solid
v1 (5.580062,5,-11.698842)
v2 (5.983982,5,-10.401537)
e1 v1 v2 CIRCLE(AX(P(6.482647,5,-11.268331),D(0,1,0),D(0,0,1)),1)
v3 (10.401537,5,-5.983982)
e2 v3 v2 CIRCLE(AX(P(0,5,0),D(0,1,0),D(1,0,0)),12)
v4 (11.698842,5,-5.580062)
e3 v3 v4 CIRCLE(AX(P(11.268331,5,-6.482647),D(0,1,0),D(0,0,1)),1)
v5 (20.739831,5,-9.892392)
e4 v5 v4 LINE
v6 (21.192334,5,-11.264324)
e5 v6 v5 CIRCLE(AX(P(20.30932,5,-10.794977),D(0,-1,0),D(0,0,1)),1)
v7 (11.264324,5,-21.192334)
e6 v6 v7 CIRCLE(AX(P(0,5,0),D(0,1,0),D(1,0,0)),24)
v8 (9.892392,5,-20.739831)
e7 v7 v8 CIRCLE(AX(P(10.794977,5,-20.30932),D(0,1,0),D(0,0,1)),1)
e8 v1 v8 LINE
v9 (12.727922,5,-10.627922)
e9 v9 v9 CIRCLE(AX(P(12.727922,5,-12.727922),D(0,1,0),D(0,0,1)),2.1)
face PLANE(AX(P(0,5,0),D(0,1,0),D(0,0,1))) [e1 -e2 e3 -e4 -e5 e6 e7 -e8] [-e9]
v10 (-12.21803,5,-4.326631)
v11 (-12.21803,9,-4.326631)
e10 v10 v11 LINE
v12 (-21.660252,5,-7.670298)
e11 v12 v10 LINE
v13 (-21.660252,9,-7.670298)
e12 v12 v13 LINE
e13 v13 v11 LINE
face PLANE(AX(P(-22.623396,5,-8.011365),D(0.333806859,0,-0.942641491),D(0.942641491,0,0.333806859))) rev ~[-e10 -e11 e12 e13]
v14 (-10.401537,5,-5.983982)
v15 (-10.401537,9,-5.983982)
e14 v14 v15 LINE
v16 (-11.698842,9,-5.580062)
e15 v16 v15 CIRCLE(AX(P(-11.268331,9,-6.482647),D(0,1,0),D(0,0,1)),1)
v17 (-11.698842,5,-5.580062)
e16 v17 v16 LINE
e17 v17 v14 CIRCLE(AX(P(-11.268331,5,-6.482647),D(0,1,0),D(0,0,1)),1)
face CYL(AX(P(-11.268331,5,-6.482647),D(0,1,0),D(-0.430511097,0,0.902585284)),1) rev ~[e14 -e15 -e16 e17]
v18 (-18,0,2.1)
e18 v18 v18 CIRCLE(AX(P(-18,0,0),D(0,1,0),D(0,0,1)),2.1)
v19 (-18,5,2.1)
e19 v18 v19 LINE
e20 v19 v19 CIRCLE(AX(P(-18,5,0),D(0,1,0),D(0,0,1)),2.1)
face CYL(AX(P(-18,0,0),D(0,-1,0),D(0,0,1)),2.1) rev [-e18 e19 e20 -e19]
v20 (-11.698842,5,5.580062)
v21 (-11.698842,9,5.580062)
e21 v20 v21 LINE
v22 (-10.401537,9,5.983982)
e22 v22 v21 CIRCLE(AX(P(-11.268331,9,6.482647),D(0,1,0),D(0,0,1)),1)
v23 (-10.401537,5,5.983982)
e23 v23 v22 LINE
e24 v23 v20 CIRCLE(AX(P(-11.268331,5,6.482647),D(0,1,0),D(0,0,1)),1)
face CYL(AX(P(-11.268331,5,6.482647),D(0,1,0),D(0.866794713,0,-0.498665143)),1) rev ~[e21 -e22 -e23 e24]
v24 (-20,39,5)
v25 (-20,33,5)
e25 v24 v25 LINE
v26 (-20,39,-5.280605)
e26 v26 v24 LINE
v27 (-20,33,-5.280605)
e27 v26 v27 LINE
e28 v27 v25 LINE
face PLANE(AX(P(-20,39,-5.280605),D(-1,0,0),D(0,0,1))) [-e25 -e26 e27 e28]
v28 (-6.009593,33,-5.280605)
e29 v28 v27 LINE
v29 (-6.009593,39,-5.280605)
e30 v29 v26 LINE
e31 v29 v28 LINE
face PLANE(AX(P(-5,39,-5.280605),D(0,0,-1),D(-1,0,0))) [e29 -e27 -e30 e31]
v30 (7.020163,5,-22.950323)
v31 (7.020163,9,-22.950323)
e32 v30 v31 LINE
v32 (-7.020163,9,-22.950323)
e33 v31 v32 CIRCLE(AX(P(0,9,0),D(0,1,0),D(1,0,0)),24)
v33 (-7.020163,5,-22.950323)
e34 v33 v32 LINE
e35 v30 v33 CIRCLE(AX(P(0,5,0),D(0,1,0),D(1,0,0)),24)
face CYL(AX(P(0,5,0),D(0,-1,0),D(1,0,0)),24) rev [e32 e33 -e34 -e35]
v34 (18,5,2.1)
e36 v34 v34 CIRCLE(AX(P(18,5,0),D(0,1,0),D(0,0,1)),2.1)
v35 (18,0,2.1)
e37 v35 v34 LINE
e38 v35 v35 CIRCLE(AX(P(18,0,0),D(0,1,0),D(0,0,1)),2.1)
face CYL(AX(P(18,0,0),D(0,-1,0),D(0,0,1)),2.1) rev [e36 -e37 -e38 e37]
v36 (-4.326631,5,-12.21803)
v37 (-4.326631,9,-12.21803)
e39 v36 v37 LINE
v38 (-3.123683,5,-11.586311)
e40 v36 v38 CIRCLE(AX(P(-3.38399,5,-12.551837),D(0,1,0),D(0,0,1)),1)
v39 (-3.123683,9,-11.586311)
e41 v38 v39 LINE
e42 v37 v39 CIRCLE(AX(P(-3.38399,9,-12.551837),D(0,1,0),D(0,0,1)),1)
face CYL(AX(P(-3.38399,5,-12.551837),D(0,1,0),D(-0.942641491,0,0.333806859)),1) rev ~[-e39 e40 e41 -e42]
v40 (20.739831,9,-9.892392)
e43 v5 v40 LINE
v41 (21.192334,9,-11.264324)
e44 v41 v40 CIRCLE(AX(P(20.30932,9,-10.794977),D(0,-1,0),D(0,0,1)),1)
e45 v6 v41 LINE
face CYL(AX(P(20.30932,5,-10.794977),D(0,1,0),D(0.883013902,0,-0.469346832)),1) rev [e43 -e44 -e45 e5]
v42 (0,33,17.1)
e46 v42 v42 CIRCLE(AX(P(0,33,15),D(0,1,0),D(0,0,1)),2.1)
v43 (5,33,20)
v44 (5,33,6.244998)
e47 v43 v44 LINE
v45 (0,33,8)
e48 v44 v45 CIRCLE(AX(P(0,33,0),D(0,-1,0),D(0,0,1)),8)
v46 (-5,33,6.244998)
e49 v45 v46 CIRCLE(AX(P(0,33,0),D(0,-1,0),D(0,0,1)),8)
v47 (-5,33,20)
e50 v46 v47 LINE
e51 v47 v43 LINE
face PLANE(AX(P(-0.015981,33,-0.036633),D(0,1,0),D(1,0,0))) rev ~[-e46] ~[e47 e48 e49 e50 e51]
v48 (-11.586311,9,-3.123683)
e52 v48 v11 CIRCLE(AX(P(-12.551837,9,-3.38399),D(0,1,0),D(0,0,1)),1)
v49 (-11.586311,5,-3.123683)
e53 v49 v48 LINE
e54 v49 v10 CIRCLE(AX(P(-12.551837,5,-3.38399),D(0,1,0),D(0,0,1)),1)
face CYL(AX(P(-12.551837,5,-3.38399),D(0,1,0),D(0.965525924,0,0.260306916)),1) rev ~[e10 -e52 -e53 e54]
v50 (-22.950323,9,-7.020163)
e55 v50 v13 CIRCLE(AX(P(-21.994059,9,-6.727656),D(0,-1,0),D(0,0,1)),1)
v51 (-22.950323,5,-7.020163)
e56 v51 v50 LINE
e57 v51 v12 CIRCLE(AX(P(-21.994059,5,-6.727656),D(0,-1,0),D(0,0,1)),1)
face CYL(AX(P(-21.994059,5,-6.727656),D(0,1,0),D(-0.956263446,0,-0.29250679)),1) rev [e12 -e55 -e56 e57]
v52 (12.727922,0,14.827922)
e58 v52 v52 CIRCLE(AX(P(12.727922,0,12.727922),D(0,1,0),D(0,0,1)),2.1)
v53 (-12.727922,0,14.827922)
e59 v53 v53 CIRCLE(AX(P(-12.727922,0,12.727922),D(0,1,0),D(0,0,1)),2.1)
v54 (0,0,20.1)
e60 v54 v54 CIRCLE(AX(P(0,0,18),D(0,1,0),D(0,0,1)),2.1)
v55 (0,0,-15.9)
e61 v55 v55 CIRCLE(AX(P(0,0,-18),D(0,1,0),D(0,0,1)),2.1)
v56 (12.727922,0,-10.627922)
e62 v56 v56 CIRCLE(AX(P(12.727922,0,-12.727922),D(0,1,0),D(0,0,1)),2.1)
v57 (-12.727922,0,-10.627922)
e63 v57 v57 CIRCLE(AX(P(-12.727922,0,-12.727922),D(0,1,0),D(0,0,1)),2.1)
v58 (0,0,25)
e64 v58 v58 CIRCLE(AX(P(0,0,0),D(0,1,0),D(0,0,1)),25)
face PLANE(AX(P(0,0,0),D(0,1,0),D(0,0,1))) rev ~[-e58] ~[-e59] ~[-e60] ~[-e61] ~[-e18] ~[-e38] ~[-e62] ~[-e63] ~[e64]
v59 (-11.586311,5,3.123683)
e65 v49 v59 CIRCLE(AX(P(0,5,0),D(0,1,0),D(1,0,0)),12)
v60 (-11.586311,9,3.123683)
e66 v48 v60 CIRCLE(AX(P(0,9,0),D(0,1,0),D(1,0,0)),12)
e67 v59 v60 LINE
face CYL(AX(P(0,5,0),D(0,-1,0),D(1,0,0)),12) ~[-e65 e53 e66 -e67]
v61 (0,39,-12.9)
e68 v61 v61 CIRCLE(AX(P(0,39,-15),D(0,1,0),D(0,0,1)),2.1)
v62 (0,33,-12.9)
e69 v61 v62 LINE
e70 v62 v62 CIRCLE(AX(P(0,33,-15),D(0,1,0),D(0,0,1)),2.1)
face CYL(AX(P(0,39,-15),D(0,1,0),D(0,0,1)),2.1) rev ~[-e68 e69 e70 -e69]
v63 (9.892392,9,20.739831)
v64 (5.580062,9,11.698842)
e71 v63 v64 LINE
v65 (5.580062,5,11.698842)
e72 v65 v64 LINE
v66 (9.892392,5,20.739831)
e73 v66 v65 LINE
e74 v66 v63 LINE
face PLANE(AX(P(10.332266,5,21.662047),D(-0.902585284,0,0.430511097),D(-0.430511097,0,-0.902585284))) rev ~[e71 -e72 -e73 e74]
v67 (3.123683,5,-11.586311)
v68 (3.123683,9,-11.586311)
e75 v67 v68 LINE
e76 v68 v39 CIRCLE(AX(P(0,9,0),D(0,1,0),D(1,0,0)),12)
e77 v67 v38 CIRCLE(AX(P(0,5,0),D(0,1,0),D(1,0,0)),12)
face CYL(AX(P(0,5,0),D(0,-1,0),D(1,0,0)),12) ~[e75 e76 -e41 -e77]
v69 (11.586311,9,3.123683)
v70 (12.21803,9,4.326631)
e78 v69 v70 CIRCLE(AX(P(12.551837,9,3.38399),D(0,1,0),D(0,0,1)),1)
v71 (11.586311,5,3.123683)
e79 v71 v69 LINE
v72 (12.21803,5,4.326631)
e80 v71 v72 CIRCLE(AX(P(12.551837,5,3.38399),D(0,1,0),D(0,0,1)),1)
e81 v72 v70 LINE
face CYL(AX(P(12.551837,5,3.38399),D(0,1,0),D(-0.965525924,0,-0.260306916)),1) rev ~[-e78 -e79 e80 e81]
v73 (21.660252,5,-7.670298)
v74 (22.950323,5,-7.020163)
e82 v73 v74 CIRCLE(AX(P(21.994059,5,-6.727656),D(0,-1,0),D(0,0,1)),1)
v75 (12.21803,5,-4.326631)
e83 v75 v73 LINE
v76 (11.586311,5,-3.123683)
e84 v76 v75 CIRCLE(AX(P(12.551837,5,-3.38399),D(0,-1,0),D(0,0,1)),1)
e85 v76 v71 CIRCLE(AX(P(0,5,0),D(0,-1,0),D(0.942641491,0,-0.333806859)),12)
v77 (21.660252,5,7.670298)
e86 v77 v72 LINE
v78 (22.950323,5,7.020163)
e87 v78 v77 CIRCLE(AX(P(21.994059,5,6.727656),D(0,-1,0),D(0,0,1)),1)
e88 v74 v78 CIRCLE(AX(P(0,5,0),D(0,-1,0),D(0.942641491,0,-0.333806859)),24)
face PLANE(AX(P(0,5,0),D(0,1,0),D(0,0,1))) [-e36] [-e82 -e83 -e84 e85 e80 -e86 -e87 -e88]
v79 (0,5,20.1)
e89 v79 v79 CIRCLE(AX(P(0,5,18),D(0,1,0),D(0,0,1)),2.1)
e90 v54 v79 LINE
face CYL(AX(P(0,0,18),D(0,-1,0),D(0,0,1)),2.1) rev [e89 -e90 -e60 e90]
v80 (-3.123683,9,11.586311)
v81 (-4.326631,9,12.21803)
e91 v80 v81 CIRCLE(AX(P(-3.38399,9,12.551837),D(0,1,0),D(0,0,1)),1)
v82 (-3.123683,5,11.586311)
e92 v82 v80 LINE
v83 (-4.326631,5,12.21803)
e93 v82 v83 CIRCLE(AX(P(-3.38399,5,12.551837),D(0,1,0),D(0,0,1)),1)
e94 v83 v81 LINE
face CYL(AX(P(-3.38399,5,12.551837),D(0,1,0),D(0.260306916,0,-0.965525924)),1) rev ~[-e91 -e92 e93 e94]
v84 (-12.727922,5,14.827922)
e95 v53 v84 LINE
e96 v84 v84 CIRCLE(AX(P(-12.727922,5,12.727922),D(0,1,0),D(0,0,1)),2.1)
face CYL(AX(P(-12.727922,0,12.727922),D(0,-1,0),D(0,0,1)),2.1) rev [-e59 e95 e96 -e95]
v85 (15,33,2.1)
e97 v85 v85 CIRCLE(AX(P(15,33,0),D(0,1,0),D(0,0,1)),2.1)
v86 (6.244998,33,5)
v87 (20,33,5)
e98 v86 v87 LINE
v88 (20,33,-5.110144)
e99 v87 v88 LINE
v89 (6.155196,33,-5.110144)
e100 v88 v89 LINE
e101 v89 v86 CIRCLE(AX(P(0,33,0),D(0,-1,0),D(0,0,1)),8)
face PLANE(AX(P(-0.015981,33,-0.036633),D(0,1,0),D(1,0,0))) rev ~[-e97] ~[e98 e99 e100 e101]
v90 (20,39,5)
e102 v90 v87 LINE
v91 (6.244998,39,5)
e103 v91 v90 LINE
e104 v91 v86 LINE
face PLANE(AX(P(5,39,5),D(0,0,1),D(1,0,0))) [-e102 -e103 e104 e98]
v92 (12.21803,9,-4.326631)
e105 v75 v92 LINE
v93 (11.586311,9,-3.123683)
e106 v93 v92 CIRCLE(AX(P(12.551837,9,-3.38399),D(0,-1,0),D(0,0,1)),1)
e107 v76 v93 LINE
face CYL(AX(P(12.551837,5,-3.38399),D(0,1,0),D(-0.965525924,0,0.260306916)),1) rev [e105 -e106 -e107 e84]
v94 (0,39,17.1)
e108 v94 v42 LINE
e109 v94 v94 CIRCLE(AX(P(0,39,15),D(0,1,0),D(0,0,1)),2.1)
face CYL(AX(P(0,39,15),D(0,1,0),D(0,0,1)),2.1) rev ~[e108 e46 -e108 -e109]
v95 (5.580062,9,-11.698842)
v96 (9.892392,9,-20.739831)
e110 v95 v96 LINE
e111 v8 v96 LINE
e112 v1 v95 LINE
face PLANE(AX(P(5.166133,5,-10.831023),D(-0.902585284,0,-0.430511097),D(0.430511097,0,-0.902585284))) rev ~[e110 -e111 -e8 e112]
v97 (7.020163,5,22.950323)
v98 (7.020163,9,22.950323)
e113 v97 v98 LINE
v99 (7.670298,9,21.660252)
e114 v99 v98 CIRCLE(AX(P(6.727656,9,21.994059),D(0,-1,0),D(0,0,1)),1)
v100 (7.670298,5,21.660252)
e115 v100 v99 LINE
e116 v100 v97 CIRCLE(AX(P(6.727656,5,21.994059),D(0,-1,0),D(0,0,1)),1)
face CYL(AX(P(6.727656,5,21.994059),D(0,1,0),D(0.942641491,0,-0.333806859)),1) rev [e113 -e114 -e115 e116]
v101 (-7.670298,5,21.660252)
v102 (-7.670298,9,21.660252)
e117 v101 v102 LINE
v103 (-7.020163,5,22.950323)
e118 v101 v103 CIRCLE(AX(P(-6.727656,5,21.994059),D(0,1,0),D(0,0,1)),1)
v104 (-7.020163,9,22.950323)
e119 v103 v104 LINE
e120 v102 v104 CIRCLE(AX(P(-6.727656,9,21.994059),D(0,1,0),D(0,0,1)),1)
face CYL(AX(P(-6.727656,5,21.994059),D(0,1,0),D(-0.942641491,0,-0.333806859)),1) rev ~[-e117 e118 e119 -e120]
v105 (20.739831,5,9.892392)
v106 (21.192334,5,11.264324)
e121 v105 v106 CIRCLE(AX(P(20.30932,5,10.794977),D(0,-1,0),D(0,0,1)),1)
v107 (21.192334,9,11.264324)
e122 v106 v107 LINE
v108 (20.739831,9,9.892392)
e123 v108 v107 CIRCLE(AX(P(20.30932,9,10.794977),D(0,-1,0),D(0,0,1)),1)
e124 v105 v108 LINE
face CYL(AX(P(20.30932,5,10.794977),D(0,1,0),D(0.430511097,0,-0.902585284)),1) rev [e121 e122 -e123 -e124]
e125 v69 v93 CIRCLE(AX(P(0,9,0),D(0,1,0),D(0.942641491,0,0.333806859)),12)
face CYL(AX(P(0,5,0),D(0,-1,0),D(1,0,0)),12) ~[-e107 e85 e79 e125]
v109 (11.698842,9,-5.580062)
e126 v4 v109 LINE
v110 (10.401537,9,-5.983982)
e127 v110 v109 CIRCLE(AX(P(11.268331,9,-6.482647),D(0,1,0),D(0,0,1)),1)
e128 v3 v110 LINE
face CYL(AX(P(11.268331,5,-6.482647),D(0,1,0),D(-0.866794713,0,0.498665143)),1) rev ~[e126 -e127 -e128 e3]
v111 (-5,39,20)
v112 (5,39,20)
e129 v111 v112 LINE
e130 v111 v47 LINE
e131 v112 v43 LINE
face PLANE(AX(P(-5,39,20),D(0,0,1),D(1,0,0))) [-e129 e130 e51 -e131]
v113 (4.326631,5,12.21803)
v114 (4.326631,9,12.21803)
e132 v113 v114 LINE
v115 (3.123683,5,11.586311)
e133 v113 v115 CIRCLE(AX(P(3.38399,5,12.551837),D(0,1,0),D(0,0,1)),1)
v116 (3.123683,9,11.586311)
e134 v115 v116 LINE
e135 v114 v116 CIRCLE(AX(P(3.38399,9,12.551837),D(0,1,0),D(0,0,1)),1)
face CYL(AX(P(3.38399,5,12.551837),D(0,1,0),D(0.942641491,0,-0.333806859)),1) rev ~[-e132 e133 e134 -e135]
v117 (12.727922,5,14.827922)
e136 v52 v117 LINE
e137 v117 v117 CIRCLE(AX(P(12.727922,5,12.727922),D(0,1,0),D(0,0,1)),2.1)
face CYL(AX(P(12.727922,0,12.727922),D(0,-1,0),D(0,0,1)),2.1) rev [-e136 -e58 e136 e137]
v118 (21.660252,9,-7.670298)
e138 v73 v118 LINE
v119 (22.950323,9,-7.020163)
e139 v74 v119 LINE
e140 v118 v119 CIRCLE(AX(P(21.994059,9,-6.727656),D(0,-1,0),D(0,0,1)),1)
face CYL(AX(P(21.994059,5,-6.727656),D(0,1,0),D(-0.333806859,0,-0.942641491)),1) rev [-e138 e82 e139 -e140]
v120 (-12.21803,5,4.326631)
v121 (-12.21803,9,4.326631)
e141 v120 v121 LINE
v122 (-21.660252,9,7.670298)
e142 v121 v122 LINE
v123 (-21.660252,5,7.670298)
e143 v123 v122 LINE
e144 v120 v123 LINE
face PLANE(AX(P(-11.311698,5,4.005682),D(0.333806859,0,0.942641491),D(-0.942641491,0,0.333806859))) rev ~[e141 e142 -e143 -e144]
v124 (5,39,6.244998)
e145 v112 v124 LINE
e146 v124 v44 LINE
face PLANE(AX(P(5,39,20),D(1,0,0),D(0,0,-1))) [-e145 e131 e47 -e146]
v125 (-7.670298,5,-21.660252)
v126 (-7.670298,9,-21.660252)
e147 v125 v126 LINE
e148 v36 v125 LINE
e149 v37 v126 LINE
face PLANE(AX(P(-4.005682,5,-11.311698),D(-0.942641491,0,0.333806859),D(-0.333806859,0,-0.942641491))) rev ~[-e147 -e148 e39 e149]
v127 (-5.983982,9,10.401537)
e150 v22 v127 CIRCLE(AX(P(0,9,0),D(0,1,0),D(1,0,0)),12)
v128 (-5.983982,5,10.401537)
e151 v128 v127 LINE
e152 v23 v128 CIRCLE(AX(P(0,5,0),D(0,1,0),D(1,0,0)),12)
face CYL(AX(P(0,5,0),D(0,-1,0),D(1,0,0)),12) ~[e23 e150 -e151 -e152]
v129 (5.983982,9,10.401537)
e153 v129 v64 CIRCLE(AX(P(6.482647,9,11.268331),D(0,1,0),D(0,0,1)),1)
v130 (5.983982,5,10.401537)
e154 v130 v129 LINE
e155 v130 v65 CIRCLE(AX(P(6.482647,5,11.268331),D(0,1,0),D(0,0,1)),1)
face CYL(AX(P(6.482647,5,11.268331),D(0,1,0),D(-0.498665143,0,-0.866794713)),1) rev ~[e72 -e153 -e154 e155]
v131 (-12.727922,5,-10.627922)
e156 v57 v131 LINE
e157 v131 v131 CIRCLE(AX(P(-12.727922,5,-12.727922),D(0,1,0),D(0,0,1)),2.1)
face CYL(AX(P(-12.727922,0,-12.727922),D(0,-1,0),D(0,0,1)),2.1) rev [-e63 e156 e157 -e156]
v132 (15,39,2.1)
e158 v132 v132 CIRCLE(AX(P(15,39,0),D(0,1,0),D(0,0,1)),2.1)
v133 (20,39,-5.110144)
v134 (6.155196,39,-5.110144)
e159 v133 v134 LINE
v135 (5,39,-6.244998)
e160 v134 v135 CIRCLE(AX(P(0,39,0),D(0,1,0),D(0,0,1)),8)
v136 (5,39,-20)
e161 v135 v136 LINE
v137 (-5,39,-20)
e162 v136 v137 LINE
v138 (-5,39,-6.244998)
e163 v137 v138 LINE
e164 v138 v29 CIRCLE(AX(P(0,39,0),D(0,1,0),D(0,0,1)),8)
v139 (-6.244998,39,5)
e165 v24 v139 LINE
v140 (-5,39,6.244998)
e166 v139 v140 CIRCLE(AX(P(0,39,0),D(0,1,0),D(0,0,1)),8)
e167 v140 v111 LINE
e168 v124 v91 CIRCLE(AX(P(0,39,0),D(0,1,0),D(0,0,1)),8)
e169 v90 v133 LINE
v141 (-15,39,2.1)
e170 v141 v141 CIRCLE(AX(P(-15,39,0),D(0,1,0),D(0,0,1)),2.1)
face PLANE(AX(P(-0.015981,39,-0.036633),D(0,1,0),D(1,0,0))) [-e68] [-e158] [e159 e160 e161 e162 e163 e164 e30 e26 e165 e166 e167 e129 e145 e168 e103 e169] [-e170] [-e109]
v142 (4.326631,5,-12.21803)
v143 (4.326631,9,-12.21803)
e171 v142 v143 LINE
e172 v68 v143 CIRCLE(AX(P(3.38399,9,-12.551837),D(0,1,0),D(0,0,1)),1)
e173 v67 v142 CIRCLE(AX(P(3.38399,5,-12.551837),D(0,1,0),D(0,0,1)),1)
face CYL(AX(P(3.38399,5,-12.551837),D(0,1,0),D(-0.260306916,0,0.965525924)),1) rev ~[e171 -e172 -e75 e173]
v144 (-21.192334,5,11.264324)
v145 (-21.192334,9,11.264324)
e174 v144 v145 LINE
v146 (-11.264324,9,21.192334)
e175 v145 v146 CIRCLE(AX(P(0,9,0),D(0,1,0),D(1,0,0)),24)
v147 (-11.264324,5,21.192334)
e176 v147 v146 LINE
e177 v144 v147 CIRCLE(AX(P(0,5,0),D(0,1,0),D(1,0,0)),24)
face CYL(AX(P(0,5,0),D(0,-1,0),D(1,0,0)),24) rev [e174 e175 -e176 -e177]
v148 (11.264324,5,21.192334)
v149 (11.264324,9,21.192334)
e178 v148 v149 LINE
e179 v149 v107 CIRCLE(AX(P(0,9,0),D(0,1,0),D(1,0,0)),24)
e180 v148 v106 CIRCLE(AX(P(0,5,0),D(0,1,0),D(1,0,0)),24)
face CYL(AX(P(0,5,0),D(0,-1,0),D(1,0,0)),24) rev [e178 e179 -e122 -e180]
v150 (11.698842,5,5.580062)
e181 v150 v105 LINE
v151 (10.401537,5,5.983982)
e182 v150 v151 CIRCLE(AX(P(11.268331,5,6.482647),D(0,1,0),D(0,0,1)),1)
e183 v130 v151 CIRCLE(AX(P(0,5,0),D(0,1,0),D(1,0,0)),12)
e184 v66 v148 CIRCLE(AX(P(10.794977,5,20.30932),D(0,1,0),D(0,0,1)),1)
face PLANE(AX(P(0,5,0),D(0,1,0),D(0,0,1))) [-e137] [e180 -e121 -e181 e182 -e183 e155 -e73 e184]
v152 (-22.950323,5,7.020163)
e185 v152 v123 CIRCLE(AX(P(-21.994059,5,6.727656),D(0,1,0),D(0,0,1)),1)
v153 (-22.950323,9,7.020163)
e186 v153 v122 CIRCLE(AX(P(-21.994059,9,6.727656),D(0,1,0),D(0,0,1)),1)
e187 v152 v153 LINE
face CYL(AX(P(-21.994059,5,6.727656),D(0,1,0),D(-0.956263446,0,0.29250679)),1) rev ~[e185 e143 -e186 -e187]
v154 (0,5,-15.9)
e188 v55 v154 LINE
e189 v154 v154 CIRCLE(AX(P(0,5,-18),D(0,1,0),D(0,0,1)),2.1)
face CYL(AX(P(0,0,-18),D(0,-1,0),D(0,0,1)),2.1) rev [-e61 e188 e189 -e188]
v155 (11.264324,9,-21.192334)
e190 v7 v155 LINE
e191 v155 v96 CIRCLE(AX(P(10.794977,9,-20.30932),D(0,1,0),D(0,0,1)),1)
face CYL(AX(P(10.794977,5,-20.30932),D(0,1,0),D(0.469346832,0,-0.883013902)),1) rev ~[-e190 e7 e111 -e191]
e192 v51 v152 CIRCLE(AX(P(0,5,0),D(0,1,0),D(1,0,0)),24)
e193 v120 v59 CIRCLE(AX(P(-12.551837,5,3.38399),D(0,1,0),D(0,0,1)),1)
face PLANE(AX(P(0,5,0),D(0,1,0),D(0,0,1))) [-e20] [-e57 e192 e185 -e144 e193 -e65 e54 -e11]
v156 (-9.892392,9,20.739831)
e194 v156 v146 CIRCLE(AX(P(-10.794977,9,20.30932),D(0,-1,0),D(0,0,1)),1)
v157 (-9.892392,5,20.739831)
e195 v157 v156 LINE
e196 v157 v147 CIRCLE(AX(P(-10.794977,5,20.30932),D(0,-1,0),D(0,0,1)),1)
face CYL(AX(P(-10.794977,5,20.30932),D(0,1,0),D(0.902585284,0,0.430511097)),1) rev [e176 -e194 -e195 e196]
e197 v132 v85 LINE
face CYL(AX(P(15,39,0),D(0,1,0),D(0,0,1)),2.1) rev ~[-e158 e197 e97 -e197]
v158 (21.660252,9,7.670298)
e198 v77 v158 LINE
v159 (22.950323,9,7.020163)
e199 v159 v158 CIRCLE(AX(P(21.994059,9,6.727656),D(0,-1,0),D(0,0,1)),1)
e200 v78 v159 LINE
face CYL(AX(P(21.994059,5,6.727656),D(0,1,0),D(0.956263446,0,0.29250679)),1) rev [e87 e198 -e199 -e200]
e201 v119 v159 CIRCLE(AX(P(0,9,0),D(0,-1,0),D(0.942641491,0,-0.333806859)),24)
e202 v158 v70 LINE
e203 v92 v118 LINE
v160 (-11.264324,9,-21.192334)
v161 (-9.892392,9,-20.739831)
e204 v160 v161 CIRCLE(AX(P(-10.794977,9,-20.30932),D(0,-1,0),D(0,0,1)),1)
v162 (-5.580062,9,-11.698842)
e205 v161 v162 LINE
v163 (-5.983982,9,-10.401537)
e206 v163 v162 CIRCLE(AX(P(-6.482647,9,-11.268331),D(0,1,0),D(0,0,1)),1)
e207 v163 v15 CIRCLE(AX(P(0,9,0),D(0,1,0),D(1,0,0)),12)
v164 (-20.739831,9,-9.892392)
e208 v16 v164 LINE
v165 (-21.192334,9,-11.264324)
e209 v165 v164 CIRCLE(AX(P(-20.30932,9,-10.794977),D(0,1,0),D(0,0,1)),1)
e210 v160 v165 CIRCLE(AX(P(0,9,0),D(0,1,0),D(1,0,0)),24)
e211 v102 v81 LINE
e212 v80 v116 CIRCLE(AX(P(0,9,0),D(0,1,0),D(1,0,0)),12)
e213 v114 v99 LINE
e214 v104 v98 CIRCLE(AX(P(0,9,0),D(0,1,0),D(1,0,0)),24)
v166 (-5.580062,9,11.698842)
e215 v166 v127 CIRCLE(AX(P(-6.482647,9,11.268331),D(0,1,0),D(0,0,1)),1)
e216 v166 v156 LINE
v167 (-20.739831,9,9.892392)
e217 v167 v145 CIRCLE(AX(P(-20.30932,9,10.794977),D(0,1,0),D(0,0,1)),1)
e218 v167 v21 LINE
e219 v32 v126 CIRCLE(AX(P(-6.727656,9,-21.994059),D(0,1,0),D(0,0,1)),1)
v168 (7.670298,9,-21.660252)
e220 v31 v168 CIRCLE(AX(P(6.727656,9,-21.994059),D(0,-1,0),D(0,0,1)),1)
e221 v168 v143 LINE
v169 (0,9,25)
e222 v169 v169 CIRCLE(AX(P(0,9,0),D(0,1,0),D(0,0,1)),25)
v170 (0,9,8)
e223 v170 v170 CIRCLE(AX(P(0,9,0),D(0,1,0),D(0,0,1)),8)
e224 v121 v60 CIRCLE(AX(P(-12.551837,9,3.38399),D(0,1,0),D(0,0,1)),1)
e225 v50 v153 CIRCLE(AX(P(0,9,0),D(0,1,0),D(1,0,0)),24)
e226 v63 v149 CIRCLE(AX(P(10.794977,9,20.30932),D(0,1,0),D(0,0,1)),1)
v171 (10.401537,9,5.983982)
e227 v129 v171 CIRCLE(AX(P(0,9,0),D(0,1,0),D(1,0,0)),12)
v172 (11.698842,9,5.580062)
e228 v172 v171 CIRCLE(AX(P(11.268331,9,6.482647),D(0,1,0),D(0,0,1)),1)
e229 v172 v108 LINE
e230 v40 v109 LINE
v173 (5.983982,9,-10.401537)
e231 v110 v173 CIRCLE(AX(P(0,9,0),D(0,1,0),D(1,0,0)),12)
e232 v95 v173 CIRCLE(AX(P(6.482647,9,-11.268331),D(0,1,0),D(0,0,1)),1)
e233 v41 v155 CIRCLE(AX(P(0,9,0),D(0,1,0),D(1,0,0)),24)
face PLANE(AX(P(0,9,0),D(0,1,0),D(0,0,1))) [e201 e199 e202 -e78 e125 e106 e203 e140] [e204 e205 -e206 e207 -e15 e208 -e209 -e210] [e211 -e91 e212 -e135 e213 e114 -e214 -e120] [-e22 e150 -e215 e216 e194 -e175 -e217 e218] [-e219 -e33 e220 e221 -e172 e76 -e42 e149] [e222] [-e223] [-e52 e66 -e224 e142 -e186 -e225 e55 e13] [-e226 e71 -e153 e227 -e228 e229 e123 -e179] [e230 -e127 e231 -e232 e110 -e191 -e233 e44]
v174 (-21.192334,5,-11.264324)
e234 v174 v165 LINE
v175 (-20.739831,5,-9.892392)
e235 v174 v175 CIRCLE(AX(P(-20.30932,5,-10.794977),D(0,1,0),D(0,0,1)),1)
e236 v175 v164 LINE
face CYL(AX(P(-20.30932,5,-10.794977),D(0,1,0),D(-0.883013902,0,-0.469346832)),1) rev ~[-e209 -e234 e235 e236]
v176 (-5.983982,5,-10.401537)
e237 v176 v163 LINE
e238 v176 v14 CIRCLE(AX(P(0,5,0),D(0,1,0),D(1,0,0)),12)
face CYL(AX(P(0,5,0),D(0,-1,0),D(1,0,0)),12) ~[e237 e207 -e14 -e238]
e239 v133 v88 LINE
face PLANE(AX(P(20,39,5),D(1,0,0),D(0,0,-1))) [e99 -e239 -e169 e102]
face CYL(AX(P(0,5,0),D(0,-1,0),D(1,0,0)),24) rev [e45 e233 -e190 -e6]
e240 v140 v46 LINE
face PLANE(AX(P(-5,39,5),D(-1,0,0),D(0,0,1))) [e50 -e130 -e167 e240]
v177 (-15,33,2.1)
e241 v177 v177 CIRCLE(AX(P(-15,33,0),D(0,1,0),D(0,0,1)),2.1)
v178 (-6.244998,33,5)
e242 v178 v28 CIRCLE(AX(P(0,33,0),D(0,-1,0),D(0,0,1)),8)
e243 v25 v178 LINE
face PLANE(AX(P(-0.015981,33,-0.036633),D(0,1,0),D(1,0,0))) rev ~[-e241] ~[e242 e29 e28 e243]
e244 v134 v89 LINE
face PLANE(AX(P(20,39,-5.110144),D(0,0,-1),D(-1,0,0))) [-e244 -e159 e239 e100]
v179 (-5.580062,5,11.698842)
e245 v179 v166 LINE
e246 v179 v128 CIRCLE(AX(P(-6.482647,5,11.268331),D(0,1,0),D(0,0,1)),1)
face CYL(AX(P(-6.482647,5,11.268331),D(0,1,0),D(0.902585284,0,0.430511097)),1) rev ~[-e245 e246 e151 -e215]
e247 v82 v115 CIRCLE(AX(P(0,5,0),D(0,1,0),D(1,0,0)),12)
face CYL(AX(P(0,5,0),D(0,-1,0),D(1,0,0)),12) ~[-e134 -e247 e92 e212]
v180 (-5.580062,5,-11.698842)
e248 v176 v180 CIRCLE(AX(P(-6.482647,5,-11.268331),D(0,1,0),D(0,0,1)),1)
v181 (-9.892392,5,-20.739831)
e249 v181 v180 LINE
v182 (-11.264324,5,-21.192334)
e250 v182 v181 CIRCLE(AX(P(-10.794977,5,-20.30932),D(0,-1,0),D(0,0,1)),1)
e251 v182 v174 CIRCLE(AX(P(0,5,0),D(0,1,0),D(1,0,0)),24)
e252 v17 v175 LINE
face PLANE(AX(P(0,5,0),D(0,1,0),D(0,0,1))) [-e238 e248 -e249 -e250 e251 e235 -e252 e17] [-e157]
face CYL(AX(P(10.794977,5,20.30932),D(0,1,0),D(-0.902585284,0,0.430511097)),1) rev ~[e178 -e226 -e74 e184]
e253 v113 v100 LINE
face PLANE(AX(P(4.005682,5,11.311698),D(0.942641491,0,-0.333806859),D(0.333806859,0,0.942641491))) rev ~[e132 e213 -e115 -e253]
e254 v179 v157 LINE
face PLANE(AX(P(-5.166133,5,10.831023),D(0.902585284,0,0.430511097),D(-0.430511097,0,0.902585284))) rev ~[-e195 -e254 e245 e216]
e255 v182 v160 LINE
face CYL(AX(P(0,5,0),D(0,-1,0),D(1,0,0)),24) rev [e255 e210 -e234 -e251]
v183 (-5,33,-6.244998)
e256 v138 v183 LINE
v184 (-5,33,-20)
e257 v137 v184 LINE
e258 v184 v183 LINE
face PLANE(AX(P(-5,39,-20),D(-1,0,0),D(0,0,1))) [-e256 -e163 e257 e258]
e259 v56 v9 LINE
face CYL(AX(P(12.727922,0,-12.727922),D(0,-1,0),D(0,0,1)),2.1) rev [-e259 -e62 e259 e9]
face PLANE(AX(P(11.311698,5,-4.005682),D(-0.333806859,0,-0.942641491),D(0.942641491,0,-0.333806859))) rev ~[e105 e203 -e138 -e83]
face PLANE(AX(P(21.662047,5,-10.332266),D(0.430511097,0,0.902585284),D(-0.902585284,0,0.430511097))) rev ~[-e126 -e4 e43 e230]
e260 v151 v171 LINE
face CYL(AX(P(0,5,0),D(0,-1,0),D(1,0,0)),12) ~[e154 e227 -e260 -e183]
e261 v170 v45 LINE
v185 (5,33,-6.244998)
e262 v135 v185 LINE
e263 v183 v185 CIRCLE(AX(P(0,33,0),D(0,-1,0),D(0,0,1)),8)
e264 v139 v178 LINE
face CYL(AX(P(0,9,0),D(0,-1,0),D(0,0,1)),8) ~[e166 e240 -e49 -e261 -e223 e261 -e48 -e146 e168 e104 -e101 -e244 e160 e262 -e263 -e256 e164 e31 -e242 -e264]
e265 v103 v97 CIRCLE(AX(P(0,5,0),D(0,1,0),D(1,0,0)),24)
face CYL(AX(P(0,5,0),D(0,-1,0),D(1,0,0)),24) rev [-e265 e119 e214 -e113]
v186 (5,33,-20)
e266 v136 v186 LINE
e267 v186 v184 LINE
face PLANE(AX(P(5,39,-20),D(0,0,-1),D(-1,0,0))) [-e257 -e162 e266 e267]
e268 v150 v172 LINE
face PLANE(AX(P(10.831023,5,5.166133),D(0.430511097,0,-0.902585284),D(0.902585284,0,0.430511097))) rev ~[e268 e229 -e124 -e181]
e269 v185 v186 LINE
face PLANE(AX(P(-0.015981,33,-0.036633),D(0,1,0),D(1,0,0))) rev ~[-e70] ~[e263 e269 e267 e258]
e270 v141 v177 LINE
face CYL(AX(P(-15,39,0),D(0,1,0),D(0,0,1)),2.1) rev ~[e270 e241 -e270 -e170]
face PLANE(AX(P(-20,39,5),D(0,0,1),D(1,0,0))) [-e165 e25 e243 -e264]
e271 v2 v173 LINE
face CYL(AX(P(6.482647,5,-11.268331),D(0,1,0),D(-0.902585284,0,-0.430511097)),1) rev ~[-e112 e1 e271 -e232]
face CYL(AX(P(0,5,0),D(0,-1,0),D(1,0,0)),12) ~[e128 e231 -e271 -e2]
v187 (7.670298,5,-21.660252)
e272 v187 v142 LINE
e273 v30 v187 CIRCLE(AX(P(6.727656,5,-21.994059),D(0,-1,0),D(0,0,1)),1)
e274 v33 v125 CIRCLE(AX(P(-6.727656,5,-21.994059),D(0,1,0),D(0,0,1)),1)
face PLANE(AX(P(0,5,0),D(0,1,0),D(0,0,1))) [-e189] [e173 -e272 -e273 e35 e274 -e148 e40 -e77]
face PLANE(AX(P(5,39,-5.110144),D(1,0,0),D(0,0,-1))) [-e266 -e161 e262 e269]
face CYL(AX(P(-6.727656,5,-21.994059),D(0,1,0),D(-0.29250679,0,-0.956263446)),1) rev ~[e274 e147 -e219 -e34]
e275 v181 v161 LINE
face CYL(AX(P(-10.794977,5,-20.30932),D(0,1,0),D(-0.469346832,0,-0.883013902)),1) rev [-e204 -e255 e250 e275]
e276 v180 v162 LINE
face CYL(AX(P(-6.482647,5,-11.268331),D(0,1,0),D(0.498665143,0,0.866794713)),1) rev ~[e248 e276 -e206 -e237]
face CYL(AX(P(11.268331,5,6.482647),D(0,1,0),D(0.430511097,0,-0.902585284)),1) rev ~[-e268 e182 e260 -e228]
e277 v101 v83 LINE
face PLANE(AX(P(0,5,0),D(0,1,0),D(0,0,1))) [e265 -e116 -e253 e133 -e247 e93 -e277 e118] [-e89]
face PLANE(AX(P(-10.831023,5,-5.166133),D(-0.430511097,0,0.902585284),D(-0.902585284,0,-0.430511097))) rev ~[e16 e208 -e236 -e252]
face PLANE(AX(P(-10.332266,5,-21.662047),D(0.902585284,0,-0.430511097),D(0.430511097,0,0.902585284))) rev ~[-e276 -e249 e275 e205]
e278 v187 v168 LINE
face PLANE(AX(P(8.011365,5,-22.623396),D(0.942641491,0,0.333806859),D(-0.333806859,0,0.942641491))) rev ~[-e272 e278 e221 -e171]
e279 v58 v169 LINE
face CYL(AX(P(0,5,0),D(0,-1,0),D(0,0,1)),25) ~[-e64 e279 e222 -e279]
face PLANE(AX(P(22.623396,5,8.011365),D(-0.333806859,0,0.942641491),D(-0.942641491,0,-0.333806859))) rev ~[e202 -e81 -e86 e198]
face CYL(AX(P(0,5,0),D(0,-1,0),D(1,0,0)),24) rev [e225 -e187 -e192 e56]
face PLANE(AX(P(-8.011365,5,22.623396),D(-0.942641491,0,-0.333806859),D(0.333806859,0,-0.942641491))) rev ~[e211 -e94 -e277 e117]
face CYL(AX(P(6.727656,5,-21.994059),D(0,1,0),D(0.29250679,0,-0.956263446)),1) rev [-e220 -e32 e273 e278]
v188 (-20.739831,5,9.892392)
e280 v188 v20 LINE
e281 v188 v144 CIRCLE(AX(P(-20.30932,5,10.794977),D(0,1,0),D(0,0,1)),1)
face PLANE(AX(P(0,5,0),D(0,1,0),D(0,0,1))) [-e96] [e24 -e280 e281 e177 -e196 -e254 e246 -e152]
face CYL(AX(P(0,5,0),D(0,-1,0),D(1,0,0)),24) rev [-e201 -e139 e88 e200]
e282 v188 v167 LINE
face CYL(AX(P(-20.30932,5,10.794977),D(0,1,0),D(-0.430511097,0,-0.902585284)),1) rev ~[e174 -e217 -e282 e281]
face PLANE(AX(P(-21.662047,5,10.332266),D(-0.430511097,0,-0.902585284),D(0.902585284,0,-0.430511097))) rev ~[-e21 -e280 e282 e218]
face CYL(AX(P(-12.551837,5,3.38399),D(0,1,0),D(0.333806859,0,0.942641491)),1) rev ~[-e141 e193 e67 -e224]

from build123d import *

# Parameters (mm, degrees)
SKETCH_1_R      = 25
SKETCH_1_R_2    = 2.1
EXTRUDE_1_DEPTH = 5
SKETCH_2_R      = 25
SKETCH_2_R_2    = 24
SKETCH_2_R_3    = 12
EXTRUDE_2_DEPTH = 4
FILLET_1_R      = 1
SKETCH_3_R      = 8
EXTRUDE_3_DEPTH = 30
SKETCH_4_R      = 2.1
EXTRUDE_5_DEPTH = 6


with BuildPart() as part:
    # Эскиз1 → Бобышка-Вытянуть1 (new body)
    with BuildSketch(Plane(origin=(0, 0, 0), x_dir=(1, 0, 0), z_dir=(0, 1, 0))):
        with Locations(Location((0, 0, 0), (0, 0, 270))):
            Circle(SKETCH_1_R)
        with Locations(Location((-18, 0, 0), (0, 0, 270))):
            Circle(SKETCH_1_R_2, mode=Mode.SUBTRACT)
        with Locations(Location((-12.727922061, 12.727922061, 0), (0, 0, 270))):
            Circle(SKETCH_1_R_2, mode=Mode.SUBTRACT)
        with Locations(Location((0, 18, 0), (0, 0, 270))):
            Circle(SKETCH_1_R_2, mode=Mode.SUBTRACT)
        with Locations(Location((12.727922061, 12.727922061, 0), (0, 0, 270))):
            Circle(SKETCH_1_R_2, mode=Mode.SUBTRACT)
        with Locations(Location((18, 0, 0), (0, 0, 270))):
            Circle(SKETCH_1_R_2, mode=Mode.SUBTRACT)
        with Locations(Location((12.727922061, -12.727922061, 0), (0, 0, 270))):
            Circle(SKETCH_1_R_2, mode=Mode.SUBTRACT)
        with Locations(Location((0, -18, 0), (0, 0, 270))):
            Circle(SKETCH_1_R_2, mode=Mode.SUBTRACT)
        with Locations(Location((-12.727922061, -12.727922061, 0), (0, 0, 270))):
            Circle(SKETCH_1_R_2, mode=Mode.SUBTRACT)
    extrude(amount=EXTRUDE_1_DEPTH)

    # Эскиз2 → Бобышка-Вытянуть2 (add)
    # profile 1 of 10: a face of its own
    with BuildSketch(Plane(origin=(0, 5, 0), x_dir=(1, 0, 0), z_dir=(0, 1, 0))):
        with Locations(Location((0, 0, 0), (0, 0, 270))):
            Circle(SKETCH_2_R)
        Circle(SKETCH_2_R_2, mode=Mode.SUBTRACT)
    # profile 2 of 10: a face of its own
    with BuildSketch(Plane(origin=(0, 5, 0), x_dir=(1, 0, 0), z_dir=(0, 1, 0))):
        Circle(SKETCH_2_R_3)
    # profile 3 of 10: a face of its own
    with BuildSketch(Plane(origin=(0, 5, 0), x_dir=(1, 0, 0), z_dir=(0, 1, 0))):
        with BuildLine():
            Line((-10.332266323, 21.662046824), (-5.166133162, 10.831023412))
            ThreePointArc((-5.166133162, 10.831023412), (-4.592201188, 11.08655439), (-4.005682311, 11.311697893))
            Line((-4.005682311, 11.311697893), (-8.011364622, 22.623395786))
            ThreePointArc((-8.011364622, 22.623395786), (-9.184402377, 22.17310878), (-10.332266323, 21.662046824))
        make_face()
    # profile 4 of 10: a face of its own
    with BuildSketch(Plane(origin=(0, 5, 0), x_dir=(1, 0, 0), z_dir=(0, 1, 0))):
        with BuildLine():
            Line((8.011364622, 22.623395786), (4.005682311, 11.311697893))
            ThreePointArc((4.005682311, 11.311697893), (4.592201188, 11.08655439), (5.166133162, 10.831023412))
            Line((5.166133162, 10.831023412), (10.332266323, 21.662046824))
            ThreePointArc((10.332266323, 21.662046824), (9.184402377, 22.17310878), (8.011364622, 22.623395786))
        make_face()
    # profile 5 of 10: a face of its own
    with BuildSketch(Plane(origin=(0, 5, 0), x_dir=(1, 0, 0), z_dir=(0, 1, 0))):
        with BuildLine():
            ThreePointArc((10.831023412, 5.166133162), (11.08655439, 4.592201188), (11.311697893, 4.005682311))
            Line((11.311697893, 4.005682311), (22.623395786, 8.011364622))
            ThreePointArc((22.623395786, 8.011364622), (22.17310878, 9.184402377), (21.662046824, 10.332266323))
            Line((21.662046824, 10.332266323), (10.831023412, 5.166133162))
        make_face()
    # profile 6 of 10: a face of its own
    with BuildSketch(Plane(origin=(0, 5, 0), x_dir=(1, 0, 0), z_dir=(0, 1, 0))):
        with BuildLine():
            ThreePointArc((11.311697893, -4.005682311), (11.08655439, -4.592201188), (10.831023412, -5.166133162))
            Line((10.831023412, -5.166133162), (21.662046824, -10.332266323))
            ThreePointArc((21.662046824, -10.332266323), (22.17310878, -9.184402377), (22.623395786, -8.011364622))
            Line((22.623395786, -8.011364622), (11.311697893, -4.005682311))
        make_face()
    # profile 7 of 10: a face of its own
    with BuildSketch(Plane(origin=(0, 5, 0), x_dir=(1, 0, 0), z_dir=(0, 1, 0))):
        with BuildLine():
            ThreePointArc((5.166133162, -10.831023412), (4.592201188, -11.08655439), (4.005682311, -11.311697893))
            Line((4.005682311, -11.311697893), (8.011364622, -22.623395786))
            ThreePointArc((8.011364622, -22.623395786), (9.184402377, -22.17310878), (10.332266323, -21.662046824))
            Line((10.332266323, -21.662046824), (5.166133162, -10.831023412))
        make_face()
    # profile 8 of 10: a face of its own
    with BuildSketch(Plane(origin=(0, 5, 0), x_dir=(1, 0, 0), z_dir=(0, 1, 0))):
        with BuildLine():
            ThreePointArc((-4.005682311, -11.311697893), (-4.592201188, -11.08655439), (-5.166133162, -10.831023412))
            Line((-5.166133162, -10.831023412), (-10.332266323, -21.662046824))
            ThreePointArc((-10.332266323, -21.662046824), (-9.184402377, -22.17310878), (-8.011364622, -22.623395786))
            Line((-8.011364622, -22.623395786), (-4.005682311, -11.311697893))
        make_face()
    # profile 9 of 10: a face of its own
    with BuildSketch(Plane(origin=(0, 5, 0), x_dir=(1, 0, 0), z_dir=(0, 1, 0))):
        with BuildLine():
            Line((-21.662046824, -10.332266323), (-10.831023412, -5.166133162))
            ThreePointArc((-10.831023412, -5.166133162), (-11.08655439, -4.592201188), (-11.311697893, -4.005682311))
            Line((-11.311697893, -4.005682311), (-22.623395786, -8.011364622))
            ThreePointArc((-22.623395786, -8.011364622), (-22.17310878, -9.184402377), (-21.662046824, -10.332266323))
        make_face()
    # profile 10 of 10: a face of its own
    with BuildSketch(Plane(origin=(0, 5, 0), x_dir=(1, 0, 0), z_dir=(0, 1, 0))):
        with BuildLine():
            Line((-22.623395786, 8.011364622), (-11.311697893, 4.005682311))
            ThreePointArc((-11.311697893, 4.005682311), (-11.08655439, 4.592201188), (-10.831023412, 5.166133162))
            Line((-10.831023412, 5.166133162), (-21.662046824, 10.332266323))
            ThreePointArc((-21.662046824, 10.332266323), (-22.17310878, 9.184402377), (-22.623395786, 8.011364622))
        make_face()
    extrude(amount=EXTRUDE_2_DEPTH)

    # Скругление1
    fillet_1_edges = [part.edges().sort_by_distance(p)[0] for p in [
        (5.166133162, 7, 10.831023412),
        (10.831023412, 7, 5.166133162),
        (21.662046824, 7, 10.332266323),
        (22.623395786, 7, 8.011364622),
        (11.311697893, 7, 4.005682311),
        (11.311697893, 7, -4.005682311),
        (21.662046824, 7, -10.332266323),
        (10.831023412, 7, -5.166133162),
        (5.166133162, 7, -10.831023412),
        (8.011364622, 7, -22.623395786),
        (4.005682311, 7, -11.311697893),
        (-4.005682311, 7, -11.311697893),
        (-10.332266323, 7, -21.662046824),
        (-5.166133162, 7, -10.831023412),
        (-10.831023412, 7, -5.166133162),
        (-22.623395786, 7, -8.011364622),
        (-11.311697893, 7, -4.005682311),
        (-11.311697893, 7, 4.005682311),
        (-21.662046824, 7, 10.332266323),
        (-10.831023412, 7, 5.166133162),
        (-5.166133162, 7, 10.831023412),
        (-8.011364622, 7, 22.623395786),
        (-4.005682311, 7, 11.311697893),
        (4.005682311, 7, 11.311697893),
        (10.332266323, 7, 21.662046824),
        (22.623395786, 7, -8.011364622),
        (10.332266323, 7, -21.662046824),
        (-8.011364622, 7, -22.623395786),
        (-21.662046824, 7, -10.332266323),
        (-22.623395786, 7, 8.011364622),
        (-10.332266323, 7, 21.662046824),
        (8.011364622, 7, 22.623395786),
    ]]
    fillet(fillet_1_edges, radius=FILLET_1_R)

    # Эскиз3 → Бобышка-Вытянуть3 (add)
    with BuildSketch(Plane(origin=(0, 9, 0), x_dir=(1, 0, 0), z_dir=(0, 1, 0))):
        with Locations(Location((0, 0, 0), (0, 0, 270))):
            Circle(SKETCH_3_R)
    extrude(amount=EXTRUDE_3_DEPTH)

    # Эскиз4 → Бобышка-Вытянуть5 (add)
    with BuildSketch(Plane(origin=(0, 39, 0), x_dir=(1, 0, 0), z_dir=(0, 1, 0))):
        Polygon((5, -20), (5, -5), (20, -5), (20, 5.110143601), (5, 5.110143601), (5, 20), (-5, 20), (-5, 5.280605092), (-20, 5.280605092), (-20, -5), (-5, -5), (-5, -20), align=None)
        with Locations(Location((15, 0, 0), (0, 0, 270))):
            Circle(SKETCH_4_R, mode=Mode.SUBTRACT)
        with Locations(Location((0, 15, 0), (0, 0, 270))):
            Circle(SKETCH_4_R, mode=Mode.SUBTRACT)
        with Locations(Location((-15, 0, 0), (0, 0, 270))):
            Circle(SKETCH_4_R, mode=Mode.SUBTRACT)
        with Locations(Location((0, -15, 0), (0, 0, 270))):
            Circle(SKETCH_4_R, mode=Mode.SUBTRACT)
    extrude(amount=-EXTRUDE_5_DEPTH)


solid = part.part
